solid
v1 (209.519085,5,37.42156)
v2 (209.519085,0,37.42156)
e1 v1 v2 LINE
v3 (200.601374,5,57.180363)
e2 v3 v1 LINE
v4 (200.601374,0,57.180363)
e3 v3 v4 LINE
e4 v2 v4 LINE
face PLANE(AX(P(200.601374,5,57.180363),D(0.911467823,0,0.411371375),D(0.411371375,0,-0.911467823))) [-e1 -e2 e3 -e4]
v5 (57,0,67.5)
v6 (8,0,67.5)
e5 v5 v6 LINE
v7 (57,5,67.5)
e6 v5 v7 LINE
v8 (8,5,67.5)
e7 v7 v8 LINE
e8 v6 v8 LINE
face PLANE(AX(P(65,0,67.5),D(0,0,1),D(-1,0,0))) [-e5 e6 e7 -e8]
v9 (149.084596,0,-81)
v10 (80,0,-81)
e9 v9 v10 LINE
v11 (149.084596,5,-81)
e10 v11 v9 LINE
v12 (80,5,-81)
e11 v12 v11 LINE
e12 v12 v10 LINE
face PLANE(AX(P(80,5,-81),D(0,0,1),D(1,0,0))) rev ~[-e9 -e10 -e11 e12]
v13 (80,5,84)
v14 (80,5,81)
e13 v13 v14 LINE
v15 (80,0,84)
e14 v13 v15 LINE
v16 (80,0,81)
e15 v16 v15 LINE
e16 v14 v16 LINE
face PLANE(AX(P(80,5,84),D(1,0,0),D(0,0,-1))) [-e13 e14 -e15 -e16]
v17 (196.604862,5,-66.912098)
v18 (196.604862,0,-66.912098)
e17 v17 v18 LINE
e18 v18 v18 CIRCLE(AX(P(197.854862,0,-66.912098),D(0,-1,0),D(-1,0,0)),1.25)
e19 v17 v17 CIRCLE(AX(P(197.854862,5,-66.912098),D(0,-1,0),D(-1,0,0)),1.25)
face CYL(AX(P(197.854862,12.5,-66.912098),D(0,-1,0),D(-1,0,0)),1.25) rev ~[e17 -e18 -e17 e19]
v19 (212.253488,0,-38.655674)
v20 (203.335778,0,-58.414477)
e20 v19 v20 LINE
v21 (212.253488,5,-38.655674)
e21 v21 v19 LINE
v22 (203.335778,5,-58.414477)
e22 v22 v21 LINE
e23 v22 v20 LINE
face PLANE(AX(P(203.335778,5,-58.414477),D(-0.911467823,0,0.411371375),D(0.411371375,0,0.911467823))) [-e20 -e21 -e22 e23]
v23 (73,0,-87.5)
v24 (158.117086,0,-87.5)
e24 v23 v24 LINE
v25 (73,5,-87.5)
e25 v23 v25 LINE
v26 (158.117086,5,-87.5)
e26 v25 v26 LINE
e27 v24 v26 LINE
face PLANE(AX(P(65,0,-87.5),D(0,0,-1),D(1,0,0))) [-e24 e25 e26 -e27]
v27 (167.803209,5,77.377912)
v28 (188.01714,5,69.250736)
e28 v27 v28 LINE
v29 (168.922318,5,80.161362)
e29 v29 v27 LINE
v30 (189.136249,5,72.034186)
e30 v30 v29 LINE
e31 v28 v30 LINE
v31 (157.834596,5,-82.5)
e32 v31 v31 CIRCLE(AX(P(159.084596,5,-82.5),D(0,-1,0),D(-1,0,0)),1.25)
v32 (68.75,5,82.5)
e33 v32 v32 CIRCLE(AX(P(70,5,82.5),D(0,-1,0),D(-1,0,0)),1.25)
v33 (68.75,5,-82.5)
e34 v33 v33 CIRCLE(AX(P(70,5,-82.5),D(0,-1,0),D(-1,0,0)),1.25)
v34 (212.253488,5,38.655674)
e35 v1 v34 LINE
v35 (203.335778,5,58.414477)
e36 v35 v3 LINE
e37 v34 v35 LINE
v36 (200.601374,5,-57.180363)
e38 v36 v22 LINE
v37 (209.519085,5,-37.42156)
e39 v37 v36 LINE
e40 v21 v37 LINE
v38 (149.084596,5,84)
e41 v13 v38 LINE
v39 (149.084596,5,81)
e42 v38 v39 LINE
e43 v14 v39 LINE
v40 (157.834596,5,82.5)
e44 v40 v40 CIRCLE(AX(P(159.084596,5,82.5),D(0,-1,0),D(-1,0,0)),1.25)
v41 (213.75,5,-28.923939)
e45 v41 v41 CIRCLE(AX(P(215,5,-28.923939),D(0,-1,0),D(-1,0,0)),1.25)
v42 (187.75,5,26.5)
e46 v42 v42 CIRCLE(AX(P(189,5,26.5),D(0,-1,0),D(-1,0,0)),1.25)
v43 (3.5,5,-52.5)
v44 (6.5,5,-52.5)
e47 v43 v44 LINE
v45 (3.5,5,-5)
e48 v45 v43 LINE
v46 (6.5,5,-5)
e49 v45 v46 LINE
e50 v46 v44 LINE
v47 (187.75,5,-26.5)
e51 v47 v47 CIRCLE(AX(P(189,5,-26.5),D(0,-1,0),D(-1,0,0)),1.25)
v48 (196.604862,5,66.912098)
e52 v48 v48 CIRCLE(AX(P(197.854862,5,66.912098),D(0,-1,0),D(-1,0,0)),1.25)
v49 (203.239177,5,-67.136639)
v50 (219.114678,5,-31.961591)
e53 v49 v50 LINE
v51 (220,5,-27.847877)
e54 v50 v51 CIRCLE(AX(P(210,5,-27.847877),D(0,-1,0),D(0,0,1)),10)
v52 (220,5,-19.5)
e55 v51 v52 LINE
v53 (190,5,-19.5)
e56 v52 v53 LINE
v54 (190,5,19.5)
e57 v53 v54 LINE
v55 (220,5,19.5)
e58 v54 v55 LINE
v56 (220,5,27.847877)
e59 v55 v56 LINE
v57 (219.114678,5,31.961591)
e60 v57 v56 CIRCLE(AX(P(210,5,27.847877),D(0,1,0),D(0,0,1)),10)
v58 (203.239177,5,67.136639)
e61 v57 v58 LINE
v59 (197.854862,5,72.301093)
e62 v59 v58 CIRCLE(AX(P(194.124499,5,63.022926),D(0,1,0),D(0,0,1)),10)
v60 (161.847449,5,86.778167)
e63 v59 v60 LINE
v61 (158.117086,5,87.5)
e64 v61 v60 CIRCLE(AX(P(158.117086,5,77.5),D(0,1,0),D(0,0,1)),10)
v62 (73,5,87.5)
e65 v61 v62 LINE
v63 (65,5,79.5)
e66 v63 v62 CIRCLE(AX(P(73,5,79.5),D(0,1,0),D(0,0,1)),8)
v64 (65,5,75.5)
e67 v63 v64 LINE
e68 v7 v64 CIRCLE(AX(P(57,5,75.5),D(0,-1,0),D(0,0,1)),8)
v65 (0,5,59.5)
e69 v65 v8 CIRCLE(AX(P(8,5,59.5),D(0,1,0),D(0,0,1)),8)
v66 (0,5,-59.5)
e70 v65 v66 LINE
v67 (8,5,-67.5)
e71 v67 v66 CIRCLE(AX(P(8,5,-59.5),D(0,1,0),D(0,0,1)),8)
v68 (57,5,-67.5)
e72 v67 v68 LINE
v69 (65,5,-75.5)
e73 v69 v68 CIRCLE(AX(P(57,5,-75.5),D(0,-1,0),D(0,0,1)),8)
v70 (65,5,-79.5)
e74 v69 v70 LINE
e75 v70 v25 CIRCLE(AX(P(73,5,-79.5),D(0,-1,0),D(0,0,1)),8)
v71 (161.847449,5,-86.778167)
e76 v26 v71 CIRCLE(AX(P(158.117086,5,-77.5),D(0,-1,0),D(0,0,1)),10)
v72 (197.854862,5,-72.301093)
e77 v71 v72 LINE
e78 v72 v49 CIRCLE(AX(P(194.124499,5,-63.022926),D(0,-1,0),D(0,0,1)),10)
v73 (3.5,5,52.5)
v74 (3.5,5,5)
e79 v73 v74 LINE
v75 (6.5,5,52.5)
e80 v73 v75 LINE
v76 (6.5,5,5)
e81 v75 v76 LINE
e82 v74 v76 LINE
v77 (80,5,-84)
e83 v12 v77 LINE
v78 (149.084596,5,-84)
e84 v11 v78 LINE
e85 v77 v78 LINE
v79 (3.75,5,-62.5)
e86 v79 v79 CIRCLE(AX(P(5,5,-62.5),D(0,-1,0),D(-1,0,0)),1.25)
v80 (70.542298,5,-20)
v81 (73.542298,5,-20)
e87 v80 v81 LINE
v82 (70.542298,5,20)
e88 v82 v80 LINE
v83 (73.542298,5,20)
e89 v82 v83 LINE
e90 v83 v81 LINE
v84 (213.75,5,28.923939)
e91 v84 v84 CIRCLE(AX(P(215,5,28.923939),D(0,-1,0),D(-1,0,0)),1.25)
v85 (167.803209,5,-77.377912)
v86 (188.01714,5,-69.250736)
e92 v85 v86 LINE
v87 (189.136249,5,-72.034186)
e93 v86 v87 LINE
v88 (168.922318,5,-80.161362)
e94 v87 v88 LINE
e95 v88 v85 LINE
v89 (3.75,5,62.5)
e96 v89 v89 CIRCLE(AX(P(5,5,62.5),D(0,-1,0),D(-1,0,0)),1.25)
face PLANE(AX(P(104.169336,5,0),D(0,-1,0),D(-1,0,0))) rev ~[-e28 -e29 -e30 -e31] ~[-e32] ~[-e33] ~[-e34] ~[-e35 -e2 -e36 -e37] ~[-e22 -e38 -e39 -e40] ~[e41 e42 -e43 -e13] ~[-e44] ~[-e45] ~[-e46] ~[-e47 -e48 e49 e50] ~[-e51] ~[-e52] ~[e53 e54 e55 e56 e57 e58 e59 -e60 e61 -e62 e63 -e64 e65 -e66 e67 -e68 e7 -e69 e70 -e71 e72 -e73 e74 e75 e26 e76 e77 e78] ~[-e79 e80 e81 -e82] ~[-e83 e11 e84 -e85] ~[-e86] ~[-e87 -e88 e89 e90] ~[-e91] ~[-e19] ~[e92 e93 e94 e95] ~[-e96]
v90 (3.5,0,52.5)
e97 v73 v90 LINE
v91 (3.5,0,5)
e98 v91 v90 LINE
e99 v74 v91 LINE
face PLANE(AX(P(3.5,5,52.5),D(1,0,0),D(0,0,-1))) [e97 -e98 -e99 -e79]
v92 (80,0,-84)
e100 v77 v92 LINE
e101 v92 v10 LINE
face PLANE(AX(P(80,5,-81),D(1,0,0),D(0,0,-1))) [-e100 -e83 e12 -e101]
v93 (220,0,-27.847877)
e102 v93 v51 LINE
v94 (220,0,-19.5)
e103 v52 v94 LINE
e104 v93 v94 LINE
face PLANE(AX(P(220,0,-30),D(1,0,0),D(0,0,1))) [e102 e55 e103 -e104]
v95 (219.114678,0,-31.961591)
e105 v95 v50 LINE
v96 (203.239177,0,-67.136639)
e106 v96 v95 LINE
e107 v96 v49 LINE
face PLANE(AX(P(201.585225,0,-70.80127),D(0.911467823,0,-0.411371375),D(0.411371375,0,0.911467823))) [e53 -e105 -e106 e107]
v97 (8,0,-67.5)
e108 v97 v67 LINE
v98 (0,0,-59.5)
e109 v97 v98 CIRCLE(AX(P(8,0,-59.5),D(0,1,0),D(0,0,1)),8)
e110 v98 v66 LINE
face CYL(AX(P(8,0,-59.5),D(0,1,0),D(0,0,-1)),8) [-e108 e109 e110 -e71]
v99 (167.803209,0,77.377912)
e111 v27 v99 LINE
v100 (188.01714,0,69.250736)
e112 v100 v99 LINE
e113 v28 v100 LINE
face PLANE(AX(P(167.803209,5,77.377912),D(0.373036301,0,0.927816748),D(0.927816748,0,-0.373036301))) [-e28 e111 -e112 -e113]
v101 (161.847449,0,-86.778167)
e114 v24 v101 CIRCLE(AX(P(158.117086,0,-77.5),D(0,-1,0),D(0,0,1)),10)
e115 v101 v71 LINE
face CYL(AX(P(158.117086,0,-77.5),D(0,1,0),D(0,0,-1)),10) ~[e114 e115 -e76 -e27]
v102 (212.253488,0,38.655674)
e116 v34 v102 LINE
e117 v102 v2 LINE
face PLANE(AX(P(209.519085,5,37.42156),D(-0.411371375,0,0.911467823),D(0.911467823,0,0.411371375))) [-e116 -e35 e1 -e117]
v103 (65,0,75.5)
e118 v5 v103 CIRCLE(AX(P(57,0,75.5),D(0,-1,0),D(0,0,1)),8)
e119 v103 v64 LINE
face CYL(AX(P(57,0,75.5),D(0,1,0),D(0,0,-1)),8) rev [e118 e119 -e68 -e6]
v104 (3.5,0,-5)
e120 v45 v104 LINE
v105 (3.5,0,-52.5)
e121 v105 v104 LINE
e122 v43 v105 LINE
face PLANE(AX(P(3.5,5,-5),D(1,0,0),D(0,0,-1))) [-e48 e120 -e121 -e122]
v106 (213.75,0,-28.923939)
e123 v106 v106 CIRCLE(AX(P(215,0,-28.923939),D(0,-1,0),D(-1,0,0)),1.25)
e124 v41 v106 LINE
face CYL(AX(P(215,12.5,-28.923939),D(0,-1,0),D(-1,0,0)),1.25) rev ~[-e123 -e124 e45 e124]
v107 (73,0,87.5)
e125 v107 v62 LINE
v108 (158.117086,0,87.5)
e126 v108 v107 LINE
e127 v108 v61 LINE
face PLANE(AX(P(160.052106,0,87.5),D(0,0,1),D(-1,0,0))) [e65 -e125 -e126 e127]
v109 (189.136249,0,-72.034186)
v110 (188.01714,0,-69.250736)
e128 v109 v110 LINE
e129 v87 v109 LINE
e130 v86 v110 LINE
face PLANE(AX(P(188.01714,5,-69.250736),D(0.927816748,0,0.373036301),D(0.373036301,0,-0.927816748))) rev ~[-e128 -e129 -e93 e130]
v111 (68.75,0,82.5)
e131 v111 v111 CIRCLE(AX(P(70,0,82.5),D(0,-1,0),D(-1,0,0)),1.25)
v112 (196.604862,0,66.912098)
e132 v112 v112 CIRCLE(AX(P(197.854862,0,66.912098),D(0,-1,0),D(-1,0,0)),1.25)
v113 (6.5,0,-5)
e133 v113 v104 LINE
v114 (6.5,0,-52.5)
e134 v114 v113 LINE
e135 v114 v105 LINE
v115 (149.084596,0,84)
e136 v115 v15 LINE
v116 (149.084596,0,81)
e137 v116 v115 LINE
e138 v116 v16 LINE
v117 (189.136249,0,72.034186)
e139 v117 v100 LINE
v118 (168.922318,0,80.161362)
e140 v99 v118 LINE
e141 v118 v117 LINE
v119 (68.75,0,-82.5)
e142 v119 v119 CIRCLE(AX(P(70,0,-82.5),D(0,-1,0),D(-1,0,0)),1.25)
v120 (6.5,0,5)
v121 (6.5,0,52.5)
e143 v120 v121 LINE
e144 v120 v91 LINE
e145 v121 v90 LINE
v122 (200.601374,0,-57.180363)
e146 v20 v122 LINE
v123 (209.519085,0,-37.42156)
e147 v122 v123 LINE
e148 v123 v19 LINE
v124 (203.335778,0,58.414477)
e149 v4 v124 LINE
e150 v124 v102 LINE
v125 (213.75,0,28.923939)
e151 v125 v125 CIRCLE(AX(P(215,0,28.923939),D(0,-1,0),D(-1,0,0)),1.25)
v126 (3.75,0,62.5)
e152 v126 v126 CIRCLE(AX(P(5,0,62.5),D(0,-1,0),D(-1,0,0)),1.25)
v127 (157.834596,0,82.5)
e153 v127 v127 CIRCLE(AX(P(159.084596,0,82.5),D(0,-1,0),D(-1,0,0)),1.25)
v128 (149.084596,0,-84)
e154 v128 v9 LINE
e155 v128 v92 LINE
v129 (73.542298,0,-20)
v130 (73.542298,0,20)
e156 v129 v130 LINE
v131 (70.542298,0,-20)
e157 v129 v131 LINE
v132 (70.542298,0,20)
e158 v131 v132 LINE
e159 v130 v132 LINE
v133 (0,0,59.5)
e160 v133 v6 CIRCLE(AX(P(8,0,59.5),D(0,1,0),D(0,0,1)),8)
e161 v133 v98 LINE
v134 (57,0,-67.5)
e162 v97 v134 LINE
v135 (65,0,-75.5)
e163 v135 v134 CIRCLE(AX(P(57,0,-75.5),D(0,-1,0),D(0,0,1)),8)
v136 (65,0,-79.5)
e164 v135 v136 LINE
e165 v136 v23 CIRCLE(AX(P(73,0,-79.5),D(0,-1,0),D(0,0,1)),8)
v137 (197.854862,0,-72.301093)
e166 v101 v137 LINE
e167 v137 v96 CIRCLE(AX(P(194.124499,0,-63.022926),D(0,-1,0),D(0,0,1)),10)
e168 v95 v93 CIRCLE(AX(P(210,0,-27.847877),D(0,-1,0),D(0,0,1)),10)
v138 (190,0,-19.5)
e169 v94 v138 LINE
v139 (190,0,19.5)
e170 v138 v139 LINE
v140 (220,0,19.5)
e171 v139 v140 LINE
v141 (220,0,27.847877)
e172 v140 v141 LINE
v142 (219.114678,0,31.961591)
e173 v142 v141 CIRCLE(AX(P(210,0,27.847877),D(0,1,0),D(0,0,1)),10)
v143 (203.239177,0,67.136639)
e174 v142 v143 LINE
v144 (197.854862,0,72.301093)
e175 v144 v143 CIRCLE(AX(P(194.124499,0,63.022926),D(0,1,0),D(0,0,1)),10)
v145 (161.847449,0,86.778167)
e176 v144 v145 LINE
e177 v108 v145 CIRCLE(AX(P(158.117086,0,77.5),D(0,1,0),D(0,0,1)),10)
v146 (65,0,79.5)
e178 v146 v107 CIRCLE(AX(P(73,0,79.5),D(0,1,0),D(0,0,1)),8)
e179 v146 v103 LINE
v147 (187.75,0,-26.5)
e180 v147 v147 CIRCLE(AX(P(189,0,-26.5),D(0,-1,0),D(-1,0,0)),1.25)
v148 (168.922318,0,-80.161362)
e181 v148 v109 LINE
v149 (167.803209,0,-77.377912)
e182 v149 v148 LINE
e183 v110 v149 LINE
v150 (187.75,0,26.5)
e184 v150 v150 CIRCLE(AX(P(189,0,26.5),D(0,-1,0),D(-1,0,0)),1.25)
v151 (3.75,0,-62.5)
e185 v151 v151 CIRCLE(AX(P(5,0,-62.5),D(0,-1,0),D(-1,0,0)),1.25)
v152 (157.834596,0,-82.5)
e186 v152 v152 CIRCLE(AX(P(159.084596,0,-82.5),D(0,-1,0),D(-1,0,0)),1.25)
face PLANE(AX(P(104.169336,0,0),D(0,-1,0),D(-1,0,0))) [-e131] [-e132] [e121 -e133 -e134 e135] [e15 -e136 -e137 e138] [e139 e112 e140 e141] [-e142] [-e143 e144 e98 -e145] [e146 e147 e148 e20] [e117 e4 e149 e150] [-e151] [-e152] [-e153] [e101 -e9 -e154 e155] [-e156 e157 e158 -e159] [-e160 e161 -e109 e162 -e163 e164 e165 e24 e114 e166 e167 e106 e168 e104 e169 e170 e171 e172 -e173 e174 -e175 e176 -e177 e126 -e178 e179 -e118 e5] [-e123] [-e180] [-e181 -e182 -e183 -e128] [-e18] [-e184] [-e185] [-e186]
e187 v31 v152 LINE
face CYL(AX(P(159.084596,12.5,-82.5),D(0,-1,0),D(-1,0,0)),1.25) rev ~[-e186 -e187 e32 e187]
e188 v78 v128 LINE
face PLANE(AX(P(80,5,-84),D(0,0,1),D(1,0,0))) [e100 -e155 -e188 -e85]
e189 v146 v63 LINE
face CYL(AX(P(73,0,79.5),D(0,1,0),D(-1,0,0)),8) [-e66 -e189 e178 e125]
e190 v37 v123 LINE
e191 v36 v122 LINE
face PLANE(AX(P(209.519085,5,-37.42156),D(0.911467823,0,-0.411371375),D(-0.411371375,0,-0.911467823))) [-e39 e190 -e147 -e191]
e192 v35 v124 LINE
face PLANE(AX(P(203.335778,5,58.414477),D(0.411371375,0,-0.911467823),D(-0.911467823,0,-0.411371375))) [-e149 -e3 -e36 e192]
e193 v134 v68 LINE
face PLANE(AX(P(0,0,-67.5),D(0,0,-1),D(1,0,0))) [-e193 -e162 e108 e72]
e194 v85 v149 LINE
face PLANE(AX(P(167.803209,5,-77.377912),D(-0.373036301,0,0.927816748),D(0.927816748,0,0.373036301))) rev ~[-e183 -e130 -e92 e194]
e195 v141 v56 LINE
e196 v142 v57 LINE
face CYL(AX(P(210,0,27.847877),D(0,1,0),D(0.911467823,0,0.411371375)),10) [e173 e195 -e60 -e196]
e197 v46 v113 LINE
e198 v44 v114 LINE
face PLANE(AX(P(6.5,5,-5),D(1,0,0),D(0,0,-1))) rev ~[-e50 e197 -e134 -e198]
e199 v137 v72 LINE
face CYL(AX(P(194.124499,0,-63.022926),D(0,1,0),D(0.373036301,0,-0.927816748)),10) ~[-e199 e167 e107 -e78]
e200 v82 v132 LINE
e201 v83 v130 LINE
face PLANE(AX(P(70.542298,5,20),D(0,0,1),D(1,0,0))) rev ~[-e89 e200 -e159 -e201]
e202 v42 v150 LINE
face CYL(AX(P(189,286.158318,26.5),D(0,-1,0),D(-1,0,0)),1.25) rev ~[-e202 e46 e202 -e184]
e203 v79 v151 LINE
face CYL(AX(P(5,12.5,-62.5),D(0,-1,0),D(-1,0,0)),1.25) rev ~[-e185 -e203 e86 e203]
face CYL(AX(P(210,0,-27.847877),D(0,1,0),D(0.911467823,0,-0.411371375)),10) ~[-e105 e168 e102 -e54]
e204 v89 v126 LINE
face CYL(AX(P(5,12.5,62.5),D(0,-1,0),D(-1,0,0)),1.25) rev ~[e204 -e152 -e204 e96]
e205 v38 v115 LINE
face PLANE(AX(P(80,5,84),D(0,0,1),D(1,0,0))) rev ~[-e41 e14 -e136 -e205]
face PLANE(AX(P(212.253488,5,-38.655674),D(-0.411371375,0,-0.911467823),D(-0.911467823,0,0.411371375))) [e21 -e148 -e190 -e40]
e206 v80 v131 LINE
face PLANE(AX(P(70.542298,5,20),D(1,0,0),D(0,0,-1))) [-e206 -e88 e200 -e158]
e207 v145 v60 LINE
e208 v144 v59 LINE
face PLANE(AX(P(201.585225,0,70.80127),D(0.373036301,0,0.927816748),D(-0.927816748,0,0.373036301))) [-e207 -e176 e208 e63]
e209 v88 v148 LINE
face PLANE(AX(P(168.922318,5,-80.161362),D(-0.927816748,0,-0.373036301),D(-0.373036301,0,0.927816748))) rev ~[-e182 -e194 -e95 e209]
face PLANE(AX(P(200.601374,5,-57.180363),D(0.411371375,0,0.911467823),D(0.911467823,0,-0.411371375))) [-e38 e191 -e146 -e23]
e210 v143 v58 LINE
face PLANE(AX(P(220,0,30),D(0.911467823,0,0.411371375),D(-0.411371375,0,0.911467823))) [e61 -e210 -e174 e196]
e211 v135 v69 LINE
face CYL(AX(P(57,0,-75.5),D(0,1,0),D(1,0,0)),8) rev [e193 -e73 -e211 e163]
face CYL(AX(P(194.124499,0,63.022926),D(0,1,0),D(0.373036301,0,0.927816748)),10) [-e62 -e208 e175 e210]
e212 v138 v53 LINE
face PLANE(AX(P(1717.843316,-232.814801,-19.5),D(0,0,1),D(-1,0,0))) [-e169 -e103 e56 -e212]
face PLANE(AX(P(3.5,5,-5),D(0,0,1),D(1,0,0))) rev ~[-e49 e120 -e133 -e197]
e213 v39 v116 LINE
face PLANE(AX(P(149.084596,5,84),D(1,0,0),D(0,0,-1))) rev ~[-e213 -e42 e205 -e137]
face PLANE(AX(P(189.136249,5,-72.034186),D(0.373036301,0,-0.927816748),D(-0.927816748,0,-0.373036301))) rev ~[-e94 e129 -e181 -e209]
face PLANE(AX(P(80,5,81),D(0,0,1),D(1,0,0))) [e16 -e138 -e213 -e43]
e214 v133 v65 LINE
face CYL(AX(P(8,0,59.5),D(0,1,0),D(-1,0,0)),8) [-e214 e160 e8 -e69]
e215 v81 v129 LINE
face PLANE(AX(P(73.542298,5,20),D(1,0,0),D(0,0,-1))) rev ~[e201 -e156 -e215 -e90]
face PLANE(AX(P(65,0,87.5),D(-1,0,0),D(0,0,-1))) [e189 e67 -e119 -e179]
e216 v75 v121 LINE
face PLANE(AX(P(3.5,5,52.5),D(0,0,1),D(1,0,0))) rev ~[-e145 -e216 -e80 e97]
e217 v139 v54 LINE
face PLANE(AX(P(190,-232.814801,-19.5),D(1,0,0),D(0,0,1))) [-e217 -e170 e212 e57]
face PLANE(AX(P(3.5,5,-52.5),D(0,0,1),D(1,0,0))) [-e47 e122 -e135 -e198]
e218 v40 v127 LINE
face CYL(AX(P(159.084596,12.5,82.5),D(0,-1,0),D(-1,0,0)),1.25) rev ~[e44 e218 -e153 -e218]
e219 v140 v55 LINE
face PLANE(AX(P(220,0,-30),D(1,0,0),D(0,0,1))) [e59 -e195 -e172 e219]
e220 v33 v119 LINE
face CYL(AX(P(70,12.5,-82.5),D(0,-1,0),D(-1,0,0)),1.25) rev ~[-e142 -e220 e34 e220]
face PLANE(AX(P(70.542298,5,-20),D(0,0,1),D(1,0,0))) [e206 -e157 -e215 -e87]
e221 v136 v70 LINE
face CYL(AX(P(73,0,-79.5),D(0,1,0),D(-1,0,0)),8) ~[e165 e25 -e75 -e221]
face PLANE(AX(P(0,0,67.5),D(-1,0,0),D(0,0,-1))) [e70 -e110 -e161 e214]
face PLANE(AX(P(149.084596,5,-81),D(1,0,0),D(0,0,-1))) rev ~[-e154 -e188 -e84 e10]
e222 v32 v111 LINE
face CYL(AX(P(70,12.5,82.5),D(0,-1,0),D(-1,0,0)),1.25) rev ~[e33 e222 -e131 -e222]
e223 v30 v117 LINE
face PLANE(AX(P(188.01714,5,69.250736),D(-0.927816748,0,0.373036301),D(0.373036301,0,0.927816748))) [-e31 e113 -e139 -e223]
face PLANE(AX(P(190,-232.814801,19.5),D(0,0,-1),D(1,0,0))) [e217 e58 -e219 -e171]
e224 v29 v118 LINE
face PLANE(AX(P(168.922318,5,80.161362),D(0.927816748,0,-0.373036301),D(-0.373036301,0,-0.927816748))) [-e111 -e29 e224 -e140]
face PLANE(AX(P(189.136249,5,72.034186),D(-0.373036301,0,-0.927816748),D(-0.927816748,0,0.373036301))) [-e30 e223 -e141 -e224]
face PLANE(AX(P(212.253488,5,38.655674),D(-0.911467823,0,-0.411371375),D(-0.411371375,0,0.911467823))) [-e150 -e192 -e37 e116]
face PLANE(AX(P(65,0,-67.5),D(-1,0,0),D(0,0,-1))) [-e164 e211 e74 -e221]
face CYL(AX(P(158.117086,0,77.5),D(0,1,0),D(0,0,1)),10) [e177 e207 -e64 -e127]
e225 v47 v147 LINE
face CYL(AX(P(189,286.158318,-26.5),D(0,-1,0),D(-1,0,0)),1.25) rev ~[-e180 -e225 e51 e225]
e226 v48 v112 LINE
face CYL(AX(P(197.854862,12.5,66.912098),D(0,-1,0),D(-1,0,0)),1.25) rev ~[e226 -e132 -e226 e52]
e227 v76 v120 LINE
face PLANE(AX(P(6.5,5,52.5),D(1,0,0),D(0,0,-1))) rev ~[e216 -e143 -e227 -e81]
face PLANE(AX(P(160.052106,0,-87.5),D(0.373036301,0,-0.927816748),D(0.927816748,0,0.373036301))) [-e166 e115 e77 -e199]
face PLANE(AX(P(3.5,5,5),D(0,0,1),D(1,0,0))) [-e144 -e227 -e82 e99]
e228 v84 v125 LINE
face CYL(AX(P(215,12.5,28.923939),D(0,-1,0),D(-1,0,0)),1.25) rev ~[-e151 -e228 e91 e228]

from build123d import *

# Parameters (mm, degrees)
ESTRUSIONE_ESTRUSIONE1_DEPTH  = 5
FORO_FILETTATO_M3X0_5_1_D     = 2.5
FORO_FILETTATO_M3X0_5_1_DEPTH = 7.5
FORO_FILETTATO_M3X0_5_1_TIP   = 0.751075774
SCHIZZO4_W                    = 69.084596206
SCHIZZO4_H                    = 3
TAGLIO_ESTRUSIONE2_DEPTH      = 10
SCHIZZO7_W                    = 3
SCHIZZO7_H                    = 47.5
TAGLIO_ESTRUSIONE5_DEPTH      = 10
SCHIZZO12_W                   = 3
SCHIZZO12_H                   = 40
TAGLIO_ESTRUSIONE8_DEPTH      = 237.814801058
TAGLIO_ESTRUSIONE1_DEPTH      = 237.814801058
TAGLIO_ESTRUSIONE1_DEPTH_BACK = 237.814801058
FORO_FILETTATO_M3X0_5_4_D     = 2.5
RACCORDO1_R                   = 8
RACCORDO2_R                   = 10


with BuildPart() as part:
    # Schizzo1 → Estrusione-Estrusione1 (new body)
    with BuildSketch(Plane(origin=(0, 0, 0), x_dir=(1, 0, 0), z_dir=(0, 1, 0))):
        Polygon((65, 67.5), (65, 87.5), (160.052105959, 87.5), (201.585225273, 70.801270189), (220, 30), (220, -30), (201.585225273, -70.801270189), (160.052105959, -87.5), (65, -87.5), (65, -67.5), (0, -67.5), (0, 67.5), align=None)
    extrude(amount=ESTRUSIONE_ESTRUSIONE1_DEPTH)

    # Foro filettato M3x0.5-1
    with Locations(Plane(origin=(0, 5, 0), x_dir=(1, 0, 0), z_dir=(0, 1, 0))):
        with Locations((197.854862265, 66.912097904), (215, 28.92393853), (215, -28.92393853), (197.854862265, -66.912097904), (159.084596206, -82.5), (159.084596206, 82.5), (70, 82.5), (70, -82.5), (5, -62.5), (5, 62.5)):
            Hole(FORO_FILETTATO_M3X0_5_1_D / 2, depth=FORO_FILETTATO_M3X0_5_1_DEPTH)
            with Locations((0, 0, -(FORO_FILETTATO_M3X0_5_1_DEPTH + FORO_FILETTATO_M3X0_5_1_TIP / 2))):  # 118° drill point
                Cone(0, FORO_FILETTATO_M3X0_5_1_D / 2, FORO_FILETTATO_M3X0_5_1_TIP, mode=Mode.SUBTRACT)

    # Schizzo4 → Taglio-Estrusione2 (cut)
    with BuildSketch(Plane(origin=(0, 5, 0), x_dir=(1, 0, 0), z_dir=(0, 1, 0))):
        with Locations((114.542298103, -82.5)):
            Rectangle(SCHIZZO4_W, SCHIZZO4_H)
        Polygon((209.519084515, 37.421559693), (200.601374282, 57.180362615), (203.33577775, 58.414476741), (212.253487983, 38.655673819), align=None)
        with Locations((114.542298103, 82.5)):
            Rectangle(SCHIZZO4_W, SCHIZZO4_H)
        Polygon((189.136249234, 72.034186035), (168.92231814, 80.161362114), (167.803209237, 77.377911869), (188.017140331, 69.250735791), align=None)
        Polygon((167.803209237, -77.377911869), (188.017140331, -69.250735791), (189.136249234, -72.034186035), (168.92231814, -80.161362114), align=None)
        Polygon((200.601374282, -57.180362615), (209.519084515, -37.421559693), (212.253487983, -38.655673819), (203.33577775, -58.414476741), align=None)
    extrude(amount=-TAGLIO_ESTRUSIONE2_DEPTH, mode=Mode.SUBTRACT)

    # Schizzo7 → Taglio-Estrusione5 (cut)
    with BuildSketch(Plane(origin=(0, 5, 0), x_dir=(1, 0, 0), z_dir=(0, 1, 0))):
        with Locations((5, 28.75)):
            Rectangle(SCHIZZO7_W, SCHIZZO7_H)
        with Locations((5, -28.75)):
            Rectangle(SCHIZZO7_W, SCHIZZO7_H)
    extrude(amount=-TAGLIO_ESTRUSIONE5_DEPTH, mode=Mode.SUBTRACT)

    # Schizzo12 → Taglio-Estrusione8 (cut, through all)
    with BuildSketch(Plane(origin=(0, 5, 0), x_dir=(1, 0, 0), z_dir=(0, 1, 0))):
        with Locations((72.042298103, 0)):
            Rectangle(SCHIZZO12_W, SCHIZZO12_H)
    extrude(amount=-TAGLIO_ESTRUSIONE8_DEPTH, mode=Mode.SUBTRACT)

    # Schizzo2 → Taglio-Estrusione1 (cut, two sides: drawn at the far end of the back side and taken through both)
    with BuildSketch(Plane(origin=(0, 5, 0), x_dir=(1, 0, 0), z_dir=(0, 1, 0)).offset(-TAGLIO_ESTRUSIONE1_DEPTH_BACK)):
        Polygon((719.281105296, 19.5), (220, 19.5), (190, 19.5), (190, -19.5), (220, -19.5), (719.281105296, -19.5), (1717.843315889, -19.5), (1717.843315889, 19.5), align=None)
    extrude(amount=TAGLIO_ESTRUSIONE1_DEPTH + TAGLIO_ESTRUSIONE1_DEPTH_BACK, mode=Mode.SUBTRACT)

    # Foro filettato M3x0.5-4 (through all)
    with Locations(Plane(origin=(0, 5, 0), x_dir=(1, 0, 0), z_dir=(0, 1, 0))):
        with Locations((189, 26.5), (189, -26.5)):
            Hole(FORO_FILETTATO_M3X0_5_4_D / 2)

    # Raccordo1
    raccordo1_edges = [part.edges().sort_by_distance(p)[0] for p in [
        (0, 2.5, -67.5),
        (65, 2.5, -67.5),
        (65, 2.5, -87.5),
        (65, 2.5, 87.5),
        (65, 2.5, 67.5),
        (0, 2.5, 67.5),
    ]]
    fillet(raccordo1_edges, radius=RACCORDO1_R)

    # Raccordo2
    raccordo2_edges = [part.edges().sort_by_distance(p)[0] for p in [
        (160.052105959, 2.5, -87.5),
        (201.585225273, 2.5, -70.801270189),
        (220, 2.5, -30),
        (220, 2.5, 30),
        (201.585225273, 2.5, 70.801270189),
        (160.052105959, 2.5, 87.5),
    ]]
    fillet(raccordo2_edges, radius=RACCORDO2_R)


solid = part.part
